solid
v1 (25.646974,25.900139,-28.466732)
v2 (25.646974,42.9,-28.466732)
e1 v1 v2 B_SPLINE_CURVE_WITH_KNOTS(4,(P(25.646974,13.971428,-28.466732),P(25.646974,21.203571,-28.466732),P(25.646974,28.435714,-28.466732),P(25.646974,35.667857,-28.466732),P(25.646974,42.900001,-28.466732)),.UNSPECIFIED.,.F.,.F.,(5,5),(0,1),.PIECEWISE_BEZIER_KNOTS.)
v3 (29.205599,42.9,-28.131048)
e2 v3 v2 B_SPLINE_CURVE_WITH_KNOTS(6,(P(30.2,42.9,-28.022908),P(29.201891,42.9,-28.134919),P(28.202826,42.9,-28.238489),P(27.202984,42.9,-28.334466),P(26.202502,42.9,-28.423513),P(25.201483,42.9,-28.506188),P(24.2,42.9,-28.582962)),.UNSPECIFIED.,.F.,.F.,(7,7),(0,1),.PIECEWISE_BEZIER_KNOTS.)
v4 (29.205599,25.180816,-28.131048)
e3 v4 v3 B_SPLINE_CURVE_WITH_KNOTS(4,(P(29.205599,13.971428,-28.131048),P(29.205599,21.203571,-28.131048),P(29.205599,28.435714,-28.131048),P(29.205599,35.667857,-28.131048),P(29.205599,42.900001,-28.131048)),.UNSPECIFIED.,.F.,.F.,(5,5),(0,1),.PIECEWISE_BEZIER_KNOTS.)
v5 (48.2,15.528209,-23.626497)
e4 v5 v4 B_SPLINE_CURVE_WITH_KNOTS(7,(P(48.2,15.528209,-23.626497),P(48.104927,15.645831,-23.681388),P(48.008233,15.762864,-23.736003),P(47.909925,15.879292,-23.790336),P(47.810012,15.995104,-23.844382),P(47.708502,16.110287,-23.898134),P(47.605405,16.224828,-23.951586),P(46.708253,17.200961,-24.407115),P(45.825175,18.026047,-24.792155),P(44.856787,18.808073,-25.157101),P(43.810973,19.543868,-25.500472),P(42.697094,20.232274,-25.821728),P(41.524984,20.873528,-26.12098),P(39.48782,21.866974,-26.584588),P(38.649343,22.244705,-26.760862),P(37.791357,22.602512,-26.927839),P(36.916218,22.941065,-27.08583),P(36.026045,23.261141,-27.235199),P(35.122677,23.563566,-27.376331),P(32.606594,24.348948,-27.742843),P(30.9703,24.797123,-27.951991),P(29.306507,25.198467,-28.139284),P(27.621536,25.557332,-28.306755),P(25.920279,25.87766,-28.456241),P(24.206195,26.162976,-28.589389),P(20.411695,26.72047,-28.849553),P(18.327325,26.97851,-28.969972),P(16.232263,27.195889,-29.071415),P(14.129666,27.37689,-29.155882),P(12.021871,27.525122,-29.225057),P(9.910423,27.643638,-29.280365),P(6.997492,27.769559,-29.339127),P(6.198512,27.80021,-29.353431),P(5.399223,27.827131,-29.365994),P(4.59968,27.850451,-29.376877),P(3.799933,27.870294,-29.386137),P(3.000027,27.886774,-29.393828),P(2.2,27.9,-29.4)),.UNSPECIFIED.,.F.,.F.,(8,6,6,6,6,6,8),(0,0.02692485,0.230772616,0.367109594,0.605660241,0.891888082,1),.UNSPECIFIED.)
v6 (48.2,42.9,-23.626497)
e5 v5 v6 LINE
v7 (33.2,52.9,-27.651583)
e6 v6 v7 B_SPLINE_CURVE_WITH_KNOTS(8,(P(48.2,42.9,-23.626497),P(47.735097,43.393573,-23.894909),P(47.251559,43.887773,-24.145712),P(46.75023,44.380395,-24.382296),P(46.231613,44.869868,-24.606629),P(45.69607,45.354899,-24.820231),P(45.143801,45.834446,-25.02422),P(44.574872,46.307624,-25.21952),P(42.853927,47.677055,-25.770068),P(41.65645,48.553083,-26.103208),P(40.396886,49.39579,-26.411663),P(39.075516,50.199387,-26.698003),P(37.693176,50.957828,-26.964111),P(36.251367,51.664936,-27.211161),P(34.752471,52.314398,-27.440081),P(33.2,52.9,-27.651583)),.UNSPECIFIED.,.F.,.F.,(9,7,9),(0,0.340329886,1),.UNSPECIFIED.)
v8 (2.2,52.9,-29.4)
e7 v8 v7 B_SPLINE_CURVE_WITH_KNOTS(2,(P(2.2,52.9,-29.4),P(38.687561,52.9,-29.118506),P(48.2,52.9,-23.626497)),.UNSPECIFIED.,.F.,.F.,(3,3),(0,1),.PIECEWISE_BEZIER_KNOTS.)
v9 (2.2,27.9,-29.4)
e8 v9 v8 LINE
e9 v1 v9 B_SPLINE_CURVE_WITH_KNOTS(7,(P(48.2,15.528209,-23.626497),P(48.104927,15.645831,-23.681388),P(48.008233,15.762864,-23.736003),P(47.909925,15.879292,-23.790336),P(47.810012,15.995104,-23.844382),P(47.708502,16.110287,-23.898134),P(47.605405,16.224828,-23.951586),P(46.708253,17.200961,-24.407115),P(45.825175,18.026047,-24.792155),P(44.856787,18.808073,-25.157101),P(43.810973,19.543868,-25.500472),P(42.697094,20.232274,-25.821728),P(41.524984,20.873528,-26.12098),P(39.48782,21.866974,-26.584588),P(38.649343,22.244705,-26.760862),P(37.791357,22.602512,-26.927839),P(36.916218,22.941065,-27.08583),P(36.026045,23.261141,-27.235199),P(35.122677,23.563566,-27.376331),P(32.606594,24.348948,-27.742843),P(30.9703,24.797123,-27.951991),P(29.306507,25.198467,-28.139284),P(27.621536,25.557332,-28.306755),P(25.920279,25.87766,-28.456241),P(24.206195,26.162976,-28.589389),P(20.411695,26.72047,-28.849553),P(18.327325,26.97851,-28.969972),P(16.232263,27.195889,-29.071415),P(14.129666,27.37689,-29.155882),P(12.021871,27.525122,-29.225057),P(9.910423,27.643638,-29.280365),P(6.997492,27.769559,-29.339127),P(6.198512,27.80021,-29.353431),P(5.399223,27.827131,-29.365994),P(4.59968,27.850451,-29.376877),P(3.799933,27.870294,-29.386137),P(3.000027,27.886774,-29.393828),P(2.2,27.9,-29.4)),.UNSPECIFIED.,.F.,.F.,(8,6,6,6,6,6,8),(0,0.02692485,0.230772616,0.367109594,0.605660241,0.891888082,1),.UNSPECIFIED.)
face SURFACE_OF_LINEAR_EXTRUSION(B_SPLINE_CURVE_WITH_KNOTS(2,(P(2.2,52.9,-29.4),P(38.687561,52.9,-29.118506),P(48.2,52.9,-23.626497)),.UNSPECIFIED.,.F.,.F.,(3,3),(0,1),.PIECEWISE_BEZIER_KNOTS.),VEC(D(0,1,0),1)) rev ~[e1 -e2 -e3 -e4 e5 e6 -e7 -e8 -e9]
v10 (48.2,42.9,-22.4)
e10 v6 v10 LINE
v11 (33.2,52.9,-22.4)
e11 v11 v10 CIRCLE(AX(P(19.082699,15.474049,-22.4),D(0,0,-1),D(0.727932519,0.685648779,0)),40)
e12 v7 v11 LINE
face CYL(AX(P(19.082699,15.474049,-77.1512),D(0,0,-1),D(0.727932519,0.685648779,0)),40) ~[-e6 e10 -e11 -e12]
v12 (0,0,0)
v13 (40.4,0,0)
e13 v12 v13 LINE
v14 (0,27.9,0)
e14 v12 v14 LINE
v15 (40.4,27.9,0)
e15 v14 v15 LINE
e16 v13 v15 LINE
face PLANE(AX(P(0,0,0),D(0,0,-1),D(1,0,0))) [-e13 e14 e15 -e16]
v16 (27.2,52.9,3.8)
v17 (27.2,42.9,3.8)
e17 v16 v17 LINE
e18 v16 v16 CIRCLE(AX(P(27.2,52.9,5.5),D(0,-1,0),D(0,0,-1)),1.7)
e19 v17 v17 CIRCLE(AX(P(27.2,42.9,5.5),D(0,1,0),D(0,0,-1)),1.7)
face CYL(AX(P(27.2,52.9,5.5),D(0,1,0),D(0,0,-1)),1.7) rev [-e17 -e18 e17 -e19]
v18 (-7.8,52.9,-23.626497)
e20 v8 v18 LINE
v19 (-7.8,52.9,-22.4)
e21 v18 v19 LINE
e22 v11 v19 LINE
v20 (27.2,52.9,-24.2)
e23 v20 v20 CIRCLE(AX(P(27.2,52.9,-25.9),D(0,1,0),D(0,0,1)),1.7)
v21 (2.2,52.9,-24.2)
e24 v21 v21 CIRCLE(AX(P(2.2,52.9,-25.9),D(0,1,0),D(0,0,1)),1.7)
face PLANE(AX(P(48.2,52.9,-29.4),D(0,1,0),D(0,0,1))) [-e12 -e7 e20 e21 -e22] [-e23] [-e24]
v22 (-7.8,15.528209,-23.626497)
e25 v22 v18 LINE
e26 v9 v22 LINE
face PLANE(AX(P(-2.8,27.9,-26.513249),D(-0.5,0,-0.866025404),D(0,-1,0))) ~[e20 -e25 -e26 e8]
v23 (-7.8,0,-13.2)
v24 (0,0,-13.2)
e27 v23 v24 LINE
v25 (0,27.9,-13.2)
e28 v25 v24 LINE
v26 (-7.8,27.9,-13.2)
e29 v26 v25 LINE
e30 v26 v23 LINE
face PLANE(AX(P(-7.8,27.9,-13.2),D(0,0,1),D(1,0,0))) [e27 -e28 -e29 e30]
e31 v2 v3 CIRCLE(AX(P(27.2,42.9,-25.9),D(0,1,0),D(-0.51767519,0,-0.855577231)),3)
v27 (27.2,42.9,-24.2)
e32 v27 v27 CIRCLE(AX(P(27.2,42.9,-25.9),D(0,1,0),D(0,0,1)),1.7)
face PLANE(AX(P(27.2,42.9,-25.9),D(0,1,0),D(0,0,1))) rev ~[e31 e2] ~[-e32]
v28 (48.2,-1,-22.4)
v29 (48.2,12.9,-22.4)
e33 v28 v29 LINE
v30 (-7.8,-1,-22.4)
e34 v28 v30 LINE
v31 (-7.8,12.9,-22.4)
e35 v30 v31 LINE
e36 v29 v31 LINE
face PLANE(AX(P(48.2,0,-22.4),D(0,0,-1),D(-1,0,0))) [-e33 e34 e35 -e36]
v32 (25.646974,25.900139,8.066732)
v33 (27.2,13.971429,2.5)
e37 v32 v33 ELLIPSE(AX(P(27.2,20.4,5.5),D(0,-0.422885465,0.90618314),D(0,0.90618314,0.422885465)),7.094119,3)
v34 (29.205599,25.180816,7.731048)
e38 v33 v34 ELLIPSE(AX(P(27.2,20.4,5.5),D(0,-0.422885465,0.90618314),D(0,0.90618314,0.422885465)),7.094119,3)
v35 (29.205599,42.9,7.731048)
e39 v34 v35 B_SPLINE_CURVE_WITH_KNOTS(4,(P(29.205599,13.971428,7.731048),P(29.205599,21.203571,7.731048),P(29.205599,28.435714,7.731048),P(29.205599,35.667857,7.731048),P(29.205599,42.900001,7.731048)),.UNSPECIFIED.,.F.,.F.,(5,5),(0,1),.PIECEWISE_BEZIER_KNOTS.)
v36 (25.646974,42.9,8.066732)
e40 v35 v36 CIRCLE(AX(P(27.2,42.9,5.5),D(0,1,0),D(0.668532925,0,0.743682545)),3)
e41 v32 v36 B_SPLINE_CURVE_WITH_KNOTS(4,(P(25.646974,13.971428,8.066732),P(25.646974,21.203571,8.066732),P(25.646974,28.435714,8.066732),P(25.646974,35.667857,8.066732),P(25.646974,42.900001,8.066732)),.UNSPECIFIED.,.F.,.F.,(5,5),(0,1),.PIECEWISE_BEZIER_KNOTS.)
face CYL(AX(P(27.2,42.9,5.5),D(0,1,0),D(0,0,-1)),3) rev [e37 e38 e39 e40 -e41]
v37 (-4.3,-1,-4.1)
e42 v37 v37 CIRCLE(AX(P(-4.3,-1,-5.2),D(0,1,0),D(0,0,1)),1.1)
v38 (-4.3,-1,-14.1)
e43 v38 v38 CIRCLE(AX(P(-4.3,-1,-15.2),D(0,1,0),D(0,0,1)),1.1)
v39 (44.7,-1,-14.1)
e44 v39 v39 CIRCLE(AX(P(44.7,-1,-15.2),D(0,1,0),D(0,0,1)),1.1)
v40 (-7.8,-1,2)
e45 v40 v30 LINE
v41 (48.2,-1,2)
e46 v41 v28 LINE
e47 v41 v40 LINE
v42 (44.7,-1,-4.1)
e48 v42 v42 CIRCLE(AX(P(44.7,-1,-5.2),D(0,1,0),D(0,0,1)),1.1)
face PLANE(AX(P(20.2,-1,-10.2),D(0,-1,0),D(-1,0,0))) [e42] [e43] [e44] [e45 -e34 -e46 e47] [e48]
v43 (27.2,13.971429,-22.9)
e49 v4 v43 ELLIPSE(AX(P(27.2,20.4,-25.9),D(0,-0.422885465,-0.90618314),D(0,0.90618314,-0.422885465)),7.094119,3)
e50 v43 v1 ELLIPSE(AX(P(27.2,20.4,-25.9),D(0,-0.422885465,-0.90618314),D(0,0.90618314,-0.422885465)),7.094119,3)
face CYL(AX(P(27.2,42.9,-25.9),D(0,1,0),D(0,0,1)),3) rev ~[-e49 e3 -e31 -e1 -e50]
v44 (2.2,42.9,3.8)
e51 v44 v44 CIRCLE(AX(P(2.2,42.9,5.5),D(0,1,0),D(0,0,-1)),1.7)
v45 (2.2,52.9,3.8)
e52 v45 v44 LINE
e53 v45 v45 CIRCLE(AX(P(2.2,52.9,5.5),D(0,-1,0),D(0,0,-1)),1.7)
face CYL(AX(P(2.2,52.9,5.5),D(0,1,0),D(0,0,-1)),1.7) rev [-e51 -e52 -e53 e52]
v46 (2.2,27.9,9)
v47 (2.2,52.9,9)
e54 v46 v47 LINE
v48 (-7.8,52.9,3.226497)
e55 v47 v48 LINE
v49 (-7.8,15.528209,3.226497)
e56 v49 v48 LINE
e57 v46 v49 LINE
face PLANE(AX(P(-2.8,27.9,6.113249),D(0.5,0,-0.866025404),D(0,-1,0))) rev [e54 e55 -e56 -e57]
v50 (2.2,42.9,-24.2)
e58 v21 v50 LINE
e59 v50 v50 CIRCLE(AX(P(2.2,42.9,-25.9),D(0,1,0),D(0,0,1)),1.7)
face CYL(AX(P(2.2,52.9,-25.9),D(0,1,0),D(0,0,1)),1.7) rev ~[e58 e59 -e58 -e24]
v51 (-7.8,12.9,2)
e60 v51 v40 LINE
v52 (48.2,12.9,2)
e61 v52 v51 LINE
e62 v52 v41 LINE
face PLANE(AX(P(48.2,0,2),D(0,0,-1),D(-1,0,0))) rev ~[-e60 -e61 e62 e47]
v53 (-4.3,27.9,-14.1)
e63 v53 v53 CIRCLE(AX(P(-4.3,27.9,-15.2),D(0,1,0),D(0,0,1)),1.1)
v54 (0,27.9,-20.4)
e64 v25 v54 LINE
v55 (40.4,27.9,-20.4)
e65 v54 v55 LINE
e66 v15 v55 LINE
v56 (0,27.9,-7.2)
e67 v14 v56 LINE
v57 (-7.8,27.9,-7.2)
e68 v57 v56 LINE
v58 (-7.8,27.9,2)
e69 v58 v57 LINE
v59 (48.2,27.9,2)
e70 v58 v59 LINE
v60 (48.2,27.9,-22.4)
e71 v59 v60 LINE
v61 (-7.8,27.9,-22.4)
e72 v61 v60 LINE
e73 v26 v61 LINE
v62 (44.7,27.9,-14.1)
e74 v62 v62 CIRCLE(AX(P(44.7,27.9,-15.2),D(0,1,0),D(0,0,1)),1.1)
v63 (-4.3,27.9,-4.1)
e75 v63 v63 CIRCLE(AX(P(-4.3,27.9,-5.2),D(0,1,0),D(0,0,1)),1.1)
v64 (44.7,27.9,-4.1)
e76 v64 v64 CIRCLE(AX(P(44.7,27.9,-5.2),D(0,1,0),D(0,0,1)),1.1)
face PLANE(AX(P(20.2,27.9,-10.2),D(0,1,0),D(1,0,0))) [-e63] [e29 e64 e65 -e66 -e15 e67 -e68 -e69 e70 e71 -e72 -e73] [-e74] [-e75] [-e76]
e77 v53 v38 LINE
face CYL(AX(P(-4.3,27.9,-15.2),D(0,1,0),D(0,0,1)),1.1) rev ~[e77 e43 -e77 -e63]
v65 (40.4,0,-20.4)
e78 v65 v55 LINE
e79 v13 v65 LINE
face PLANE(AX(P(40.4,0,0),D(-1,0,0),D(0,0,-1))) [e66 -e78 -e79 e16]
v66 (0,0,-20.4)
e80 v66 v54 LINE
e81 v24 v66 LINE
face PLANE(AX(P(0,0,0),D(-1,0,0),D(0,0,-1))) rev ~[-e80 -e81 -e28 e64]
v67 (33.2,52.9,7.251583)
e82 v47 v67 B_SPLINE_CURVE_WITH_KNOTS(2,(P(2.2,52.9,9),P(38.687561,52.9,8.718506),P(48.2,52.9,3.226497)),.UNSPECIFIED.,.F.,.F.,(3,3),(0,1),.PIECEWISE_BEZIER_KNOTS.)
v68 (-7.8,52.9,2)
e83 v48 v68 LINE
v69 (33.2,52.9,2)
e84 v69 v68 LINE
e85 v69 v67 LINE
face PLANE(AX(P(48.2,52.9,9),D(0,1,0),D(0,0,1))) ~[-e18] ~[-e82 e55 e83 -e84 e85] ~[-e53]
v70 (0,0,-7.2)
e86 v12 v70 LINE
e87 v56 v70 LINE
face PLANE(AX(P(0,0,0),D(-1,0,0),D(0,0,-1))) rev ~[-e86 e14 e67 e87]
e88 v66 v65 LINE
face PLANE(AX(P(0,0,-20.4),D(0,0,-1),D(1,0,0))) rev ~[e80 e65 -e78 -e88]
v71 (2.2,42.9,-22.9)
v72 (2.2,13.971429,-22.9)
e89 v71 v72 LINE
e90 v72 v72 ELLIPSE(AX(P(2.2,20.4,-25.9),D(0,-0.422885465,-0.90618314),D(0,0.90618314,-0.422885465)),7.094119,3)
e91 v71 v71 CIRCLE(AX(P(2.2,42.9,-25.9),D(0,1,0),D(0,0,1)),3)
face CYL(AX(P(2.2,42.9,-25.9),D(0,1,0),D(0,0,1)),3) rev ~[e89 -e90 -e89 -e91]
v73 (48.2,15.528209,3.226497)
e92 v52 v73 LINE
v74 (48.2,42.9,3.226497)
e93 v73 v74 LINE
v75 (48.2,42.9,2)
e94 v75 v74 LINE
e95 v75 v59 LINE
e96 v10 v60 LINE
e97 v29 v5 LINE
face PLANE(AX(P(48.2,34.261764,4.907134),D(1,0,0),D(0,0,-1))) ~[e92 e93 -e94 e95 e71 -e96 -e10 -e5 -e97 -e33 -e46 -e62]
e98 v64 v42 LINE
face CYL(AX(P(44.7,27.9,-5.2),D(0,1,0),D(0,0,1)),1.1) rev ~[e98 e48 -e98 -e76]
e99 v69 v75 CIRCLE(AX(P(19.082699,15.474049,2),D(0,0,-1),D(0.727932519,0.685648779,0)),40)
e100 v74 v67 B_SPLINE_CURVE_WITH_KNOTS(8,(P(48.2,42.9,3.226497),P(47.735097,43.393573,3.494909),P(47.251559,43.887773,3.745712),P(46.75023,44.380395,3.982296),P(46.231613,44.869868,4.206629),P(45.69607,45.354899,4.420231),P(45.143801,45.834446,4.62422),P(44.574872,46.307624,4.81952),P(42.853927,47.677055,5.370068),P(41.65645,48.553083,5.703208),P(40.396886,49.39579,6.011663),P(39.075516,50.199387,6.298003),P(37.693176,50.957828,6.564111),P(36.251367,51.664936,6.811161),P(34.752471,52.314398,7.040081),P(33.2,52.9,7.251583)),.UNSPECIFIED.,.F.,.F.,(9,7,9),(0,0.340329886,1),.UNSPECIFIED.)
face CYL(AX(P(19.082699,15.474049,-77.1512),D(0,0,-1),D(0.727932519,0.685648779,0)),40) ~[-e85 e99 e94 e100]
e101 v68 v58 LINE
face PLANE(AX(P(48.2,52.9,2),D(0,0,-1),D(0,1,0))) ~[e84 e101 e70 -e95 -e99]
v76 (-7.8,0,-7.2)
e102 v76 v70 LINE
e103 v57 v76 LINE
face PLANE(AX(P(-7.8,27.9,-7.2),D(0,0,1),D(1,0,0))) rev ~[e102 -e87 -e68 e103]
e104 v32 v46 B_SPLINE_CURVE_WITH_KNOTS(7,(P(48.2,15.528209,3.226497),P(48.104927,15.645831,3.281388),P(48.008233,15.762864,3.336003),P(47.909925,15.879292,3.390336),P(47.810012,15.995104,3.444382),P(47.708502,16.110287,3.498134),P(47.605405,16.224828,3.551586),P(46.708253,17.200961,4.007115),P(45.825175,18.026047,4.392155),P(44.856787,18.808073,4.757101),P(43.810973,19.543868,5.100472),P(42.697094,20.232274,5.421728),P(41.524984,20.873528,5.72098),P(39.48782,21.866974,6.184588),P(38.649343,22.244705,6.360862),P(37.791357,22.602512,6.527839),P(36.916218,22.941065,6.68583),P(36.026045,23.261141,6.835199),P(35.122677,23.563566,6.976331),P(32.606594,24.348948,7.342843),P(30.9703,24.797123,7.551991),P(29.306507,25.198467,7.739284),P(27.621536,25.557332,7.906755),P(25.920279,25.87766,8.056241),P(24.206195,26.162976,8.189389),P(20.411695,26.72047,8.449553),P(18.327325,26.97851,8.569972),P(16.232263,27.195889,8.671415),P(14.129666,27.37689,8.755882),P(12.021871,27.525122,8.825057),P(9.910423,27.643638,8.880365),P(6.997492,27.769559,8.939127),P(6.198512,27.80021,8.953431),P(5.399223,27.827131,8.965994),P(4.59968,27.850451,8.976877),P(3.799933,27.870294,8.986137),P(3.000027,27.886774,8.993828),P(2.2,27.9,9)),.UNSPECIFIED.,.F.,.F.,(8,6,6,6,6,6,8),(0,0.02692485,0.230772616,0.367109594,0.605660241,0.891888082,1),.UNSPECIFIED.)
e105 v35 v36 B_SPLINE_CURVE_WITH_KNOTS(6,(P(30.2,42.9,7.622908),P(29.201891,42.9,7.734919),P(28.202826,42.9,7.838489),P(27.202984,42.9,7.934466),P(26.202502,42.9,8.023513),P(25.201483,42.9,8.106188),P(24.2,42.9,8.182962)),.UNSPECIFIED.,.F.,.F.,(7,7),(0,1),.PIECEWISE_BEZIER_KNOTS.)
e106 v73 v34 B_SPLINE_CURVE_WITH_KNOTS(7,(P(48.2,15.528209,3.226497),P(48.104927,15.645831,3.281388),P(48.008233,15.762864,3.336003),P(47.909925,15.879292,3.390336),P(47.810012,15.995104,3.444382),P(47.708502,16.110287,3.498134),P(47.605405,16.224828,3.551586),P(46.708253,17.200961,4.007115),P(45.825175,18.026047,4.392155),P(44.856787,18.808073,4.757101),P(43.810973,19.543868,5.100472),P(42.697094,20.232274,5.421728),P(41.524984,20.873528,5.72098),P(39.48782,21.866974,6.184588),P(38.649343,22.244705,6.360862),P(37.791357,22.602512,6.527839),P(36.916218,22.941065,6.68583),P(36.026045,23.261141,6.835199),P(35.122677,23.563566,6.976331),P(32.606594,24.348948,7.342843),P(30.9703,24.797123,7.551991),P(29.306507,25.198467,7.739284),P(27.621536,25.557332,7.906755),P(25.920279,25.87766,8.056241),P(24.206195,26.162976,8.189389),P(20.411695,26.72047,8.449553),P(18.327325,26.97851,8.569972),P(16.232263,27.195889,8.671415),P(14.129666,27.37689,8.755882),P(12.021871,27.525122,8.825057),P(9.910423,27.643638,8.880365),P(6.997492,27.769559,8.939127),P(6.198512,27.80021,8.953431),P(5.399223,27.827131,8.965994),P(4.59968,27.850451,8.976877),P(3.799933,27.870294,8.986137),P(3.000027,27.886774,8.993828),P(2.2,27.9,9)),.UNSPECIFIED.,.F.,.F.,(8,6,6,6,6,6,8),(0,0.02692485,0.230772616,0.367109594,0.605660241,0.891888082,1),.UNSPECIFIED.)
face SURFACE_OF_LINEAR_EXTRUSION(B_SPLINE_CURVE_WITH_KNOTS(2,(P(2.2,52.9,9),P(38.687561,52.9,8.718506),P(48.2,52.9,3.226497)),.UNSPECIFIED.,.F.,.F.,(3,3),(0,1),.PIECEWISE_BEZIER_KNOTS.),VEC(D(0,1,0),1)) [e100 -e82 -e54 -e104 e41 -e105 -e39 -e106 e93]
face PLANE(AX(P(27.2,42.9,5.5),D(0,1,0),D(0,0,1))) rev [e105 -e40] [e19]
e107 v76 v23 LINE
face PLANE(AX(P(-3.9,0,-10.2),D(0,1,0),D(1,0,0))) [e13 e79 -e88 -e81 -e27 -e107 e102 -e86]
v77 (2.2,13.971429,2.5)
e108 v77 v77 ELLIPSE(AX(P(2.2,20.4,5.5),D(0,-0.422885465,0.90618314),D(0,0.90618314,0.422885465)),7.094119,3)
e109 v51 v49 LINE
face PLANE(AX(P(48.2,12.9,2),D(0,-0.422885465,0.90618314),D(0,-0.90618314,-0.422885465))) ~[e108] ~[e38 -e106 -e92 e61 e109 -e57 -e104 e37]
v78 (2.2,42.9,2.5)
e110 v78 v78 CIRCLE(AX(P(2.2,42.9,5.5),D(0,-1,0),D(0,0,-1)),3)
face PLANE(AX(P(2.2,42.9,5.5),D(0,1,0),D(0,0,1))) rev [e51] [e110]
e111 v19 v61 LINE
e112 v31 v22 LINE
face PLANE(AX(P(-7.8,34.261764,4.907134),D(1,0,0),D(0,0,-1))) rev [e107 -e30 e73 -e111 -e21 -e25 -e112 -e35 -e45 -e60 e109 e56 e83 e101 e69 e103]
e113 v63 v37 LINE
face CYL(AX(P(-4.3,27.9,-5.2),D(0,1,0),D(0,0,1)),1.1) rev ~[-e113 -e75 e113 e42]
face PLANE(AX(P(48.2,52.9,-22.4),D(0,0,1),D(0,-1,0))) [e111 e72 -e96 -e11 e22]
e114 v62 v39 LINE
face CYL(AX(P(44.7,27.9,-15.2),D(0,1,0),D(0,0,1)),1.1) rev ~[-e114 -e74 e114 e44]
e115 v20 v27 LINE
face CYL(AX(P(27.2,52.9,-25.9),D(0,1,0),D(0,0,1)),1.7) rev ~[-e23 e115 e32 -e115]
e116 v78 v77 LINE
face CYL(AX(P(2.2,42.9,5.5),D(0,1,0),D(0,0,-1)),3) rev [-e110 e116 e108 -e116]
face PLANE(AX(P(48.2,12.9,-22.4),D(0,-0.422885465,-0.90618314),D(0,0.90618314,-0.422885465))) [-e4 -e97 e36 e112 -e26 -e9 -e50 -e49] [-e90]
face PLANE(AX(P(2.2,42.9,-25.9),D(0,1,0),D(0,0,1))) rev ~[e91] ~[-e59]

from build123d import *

# Parameters (mm, degrees)
SKETCH1_W               = 56
SKETCH1_H               = 24.4
SKETCH1_W_2             = 40.4
SKETCH1_H_2             = 20.4
BOSS_EXTRUDE1_DEPTH     = 27.9
SKETCH2_W               = 56
SKETCH2_H               = 24.4
BOSS_EXTRUDE2_DEPTH     = 1
BOSS_EXTRUDE3_DEPTH     = 56
SKETCH4_R               = 1.7
CUT_EXTRUDE1_DEPTH      = 79.056453929
CUT_EXTRUDE2_START      = -10
SKETCH5_R               = 3
CUT_EXTRUDE2_DEPTH      = 69.056453929
CHAMFER1_SIZE           = 10
CHAMFER1_SIZE2          = 5.773502692
CHAMFER2_SIZE           = 10
CHAMFER2_SIZE2          = 5.773502692
CHAMFER3_SIZE           = 10
CHAMFER3_SIZE2          = 5.773502692
CHAMFER4_SIZE           = 10
CHAMFER4_SIZE2          = 5.773502692
SKETCH6_W               = 7.8
SKETCH6_H               = 6
CUT_EXTRUDE3_DEPTH      = 27.9
SKETCH7_R               = 1.1
CUT_EXTRUDE4_DEPTH      = 30
CUT_EXTRUDE5_DEPTH      = 79.056453929
CUT_EXTRUDE6_DEPTH      = 79.151199776
CUT_EXTRUDE6_DEPTH_BACK = 79.151199776


with BuildPart() as part:
    # Sketch1 → Boss-Extrude1 (new body)
    with BuildSketch(Plane(origin=(0, 0, 0), x_dir=(1, 0, 0), z_dir=(0, 1, 0))):
        with Locations((20.2, 10.2)):
            Rectangle(SKETCH1_W, SKETCH1_H)
        with Locations((20.2, 10.2)):
            Rectangle(SKETCH1_W_2, SKETCH1_H_2, mode=Mode.SUBTRACT)
    extrude(amount=BOSS_EXTRUDE1_DEPTH)

    # Sketch2 → Boss-Extrude2 (add)
    with BuildSketch(Plane(origin=(0, 0, 0), x_dir=(-1, 0, 0), z_dir=(0, -1, 0))):
        with Locations((-20.2, 10.2)):
            Rectangle(SKETCH2_W, SKETCH2_H)
    extrude(amount=BOSS_EXTRUDE2_DEPTH)

    # Sketch3 → Boss-Extrude3 (add)
    with BuildSketch(Plane(origin=(48.2, 0, 0), x_dir=(0, 0, -1), z_dir=(1, 0, 0))):
        Polygon((22.4, 12.9), (29.4, 27.9), (29.4, 52.9), (22.4, 52.9), align=None)
    boss_extrude3 = extrude(amount=-BOSS_EXTRUDE3_DEPTH)

    # Sketch4 → Cut-Extrude1 (cut, through all)
    with BuildSketch(Plane(origin=(0, 52.9, 0), x_dir=(1, 0, 0), z_dir=(0, 1, 0))):
        with Locations(Location((2.2, 25.9, 0), (0, 0, 270))):
            Circle(SKETCH4_R)
        with Locations(Location((27.2, 25.9, 0), (0, 0, 270))):
            Circle(SKETCH4_R)
    cut_extrude1 = extrude(amount=-CUT_EXTRUDE1_DEPTH, mode=Mode.SUBTRACT)

    # Sketch5 → Cut-Extrude2 (cut, through all)
    with BuildSketch(Plane(origin=(0, 52.9, 0), x_dir=(1, 0, 0), z_dir=(0, 1, 0)).offset(CUT_EXTRUDE2_START)):
        with Locations(Location((2.2, 25.9, 0), (0, 0, 270))):
            Circle(SKETCH5_R)
        with Locations(Location((27.2, 25.9, 0), (0, 0, 270))):
            Circle(SKETCH5_R)
    cut_extrude2 = extrude(amount=-CUT_EXTRUDE2_DEPTH, mode=Mode.SUBTRACT)

    # Mirror1: Boss-Extrude3, Cut-Extrude1, Cut-Extrude2 across plane
    add(boss_extrude3.mirror(Plane.XY.offset(-10.2)))
    add(cut_extrude1.mirror(Plane.XY.offset(-10.2)), mode=Mode.SUBTRACT)
    add(cut_extrude2.mirror(Plane.XY.offset(-10.2)), mode=Mode.SUBTRACT)

    # Chamfer1
    chamfer1_edges = [part.edges().sort_by_distance(p)[0] for p in [
        (-7.8, 40.4, -29.4),
    ]]
    chamfer1_side = [part.faces().sort_by_distance(p)[0] for p in [
        (20.2, 40.4, -29.4),
    ]]
    chamfer(chamfer1_edges, length=CHAMFER1_SIZE, length2=CHAMFER1_SIZE2, reference=chamfer1_side[0])

    # Chamfer2
    chamfer2_edges = [part.edges().sort_by_distance(p)[0] for p in [
        (48.2, 40.4, -29.4),
    ]]
    chamfer2_side = [part.faces().sort_by_distance(p)[0] for p in [
        (25.2, 40.4, -29.4),
    ]]
    chamfer(chamfer2_edges, length=CHAMFER2_SIZE, length2=CHAMFER2_SIZE2, reference=chamfer2_side[0])

    # Chamfer3
    chamfer3_edges = [part.edges().sort_by_distance(p)[0] for p in [
        (-7.8, 40.4, 9),
    ]]
    chamfer3_side = [part.faces().sort_by_distance(p)[0] for p in [
        (20.2, 40.4, 9),
    ]]
    chamfer(chamfer3_edges, length=CHAMFER3_SIZE, length2=CHAMFER3_SIZE2, reference=chamfer3_side[0])

    # Chamfer4
    chamfer4_edges = [part.edges().sort_by_distance(p)[0] for p in [
        (48.2, 40.4, 9),
    ]]
    chamfer4_side = [part.faces().sort_by_distance(p)[0] for p in [
        (25.2, 40.4, 9),
    ]]
    chamfer(chamfer4_edges, length=CHAMFER4_SIZE, length2=CHAMFER4_SIZE2, reference=chamfer4_side[0])

    # Sketch6 → Cut-Extrude3 (cut)
    with BuildSketch(Plane(origin=(0, 27.9, 0), x_dir=(1, 0, 0), z_dir=(0, 1, 0))):
        with Locations((-3.9, 10.2)):
            Rectangle(SKETCH6_W, SKETCH6_H)
    extrude(amount=-CUT_EXTRUDE3_DEPTH, mode=Mode.SUBTRACT)

    # Sketch7 → Cut-Extrude4 (cut)
    with BuildSketch(Plane(origin=(0, 27.9, 0), x_dir=(1, 0, 0), z_dir=(0, 1, 0))):
        with Locations(Location((-4.3, 15.2, 0), (0, 0, 270))):
            Circle(SKETCH7_R)
        with Locations(Location((-4.3, 5.2, 0), (0, 0, 270))):
            Circle(SKETCH7_R)
        with Locations(Location((44.7, 15.2, 0), (0, 0, 270))):
            Circle(SKETCH7_R)
        with Locations(Location((44.7, 5.2, 0), (0, 0, 270))):
            Circle(SKETCH7_R)
    extrude(amount=-CUT_EXTRUDE4_DEPTH, mode=Mode.SUBTRACT)

    # Sketch8 → Cut-Extrude5 (cut, symmetric)
    with BuildSketch(Plane(origin=(0, 52.9, 0), x_dir=(1, 0, 0), z_dir=(0, 1, 0))):
        with BuildLine():
            add(Edge.make_bspline(
                [(2.2, 29.4), (38.687561205, 29.118506407), (48.2, 23.626497308)],
                knots=[0, 0, 0, 1, 1, 1], degree=2))
            Line((48.2, 23.626497308), (38.2, 29.4))
            Line((38.2, 29.4), (2.2, 29.4))
        make_face()
    cut_extrude5 = extrude(amount=CUT_EXTRUDE5_DEPTH, both=True, mode=Mode.SUBTRACT)

    # Mirror2: Cut-Extrude5 across plane
    add(cut_extrude5.mirror(Plane.XY.offset(-10.2)), mode=Mode.SUBTRACT)

    # Sketch9 → Cut-Extrude6 (cut, two sides: drawn at the far end of the back side and taken through both)
    with BuildSketch(Plane.XY.offset(2).offset(-CUT_EXTRUDE6_DEPTH_BACK)):
        with BuildLine():
            Line((33.2, 52.9), (48.2, 52.9))
            Line((48.2, 52.9), (48.2, 42.9))
            ThreePointArc((48.2, 42.9), (41.270707085, 48.756060628), (33.2, 52.9))
        make_face()
    extrude(amount=CUT_EXTRUDE6_DEPTH + CUT_EXTRUDE6_DEPTH_BACK, mode=Mode.SUBTRACT)


solid = part.part
